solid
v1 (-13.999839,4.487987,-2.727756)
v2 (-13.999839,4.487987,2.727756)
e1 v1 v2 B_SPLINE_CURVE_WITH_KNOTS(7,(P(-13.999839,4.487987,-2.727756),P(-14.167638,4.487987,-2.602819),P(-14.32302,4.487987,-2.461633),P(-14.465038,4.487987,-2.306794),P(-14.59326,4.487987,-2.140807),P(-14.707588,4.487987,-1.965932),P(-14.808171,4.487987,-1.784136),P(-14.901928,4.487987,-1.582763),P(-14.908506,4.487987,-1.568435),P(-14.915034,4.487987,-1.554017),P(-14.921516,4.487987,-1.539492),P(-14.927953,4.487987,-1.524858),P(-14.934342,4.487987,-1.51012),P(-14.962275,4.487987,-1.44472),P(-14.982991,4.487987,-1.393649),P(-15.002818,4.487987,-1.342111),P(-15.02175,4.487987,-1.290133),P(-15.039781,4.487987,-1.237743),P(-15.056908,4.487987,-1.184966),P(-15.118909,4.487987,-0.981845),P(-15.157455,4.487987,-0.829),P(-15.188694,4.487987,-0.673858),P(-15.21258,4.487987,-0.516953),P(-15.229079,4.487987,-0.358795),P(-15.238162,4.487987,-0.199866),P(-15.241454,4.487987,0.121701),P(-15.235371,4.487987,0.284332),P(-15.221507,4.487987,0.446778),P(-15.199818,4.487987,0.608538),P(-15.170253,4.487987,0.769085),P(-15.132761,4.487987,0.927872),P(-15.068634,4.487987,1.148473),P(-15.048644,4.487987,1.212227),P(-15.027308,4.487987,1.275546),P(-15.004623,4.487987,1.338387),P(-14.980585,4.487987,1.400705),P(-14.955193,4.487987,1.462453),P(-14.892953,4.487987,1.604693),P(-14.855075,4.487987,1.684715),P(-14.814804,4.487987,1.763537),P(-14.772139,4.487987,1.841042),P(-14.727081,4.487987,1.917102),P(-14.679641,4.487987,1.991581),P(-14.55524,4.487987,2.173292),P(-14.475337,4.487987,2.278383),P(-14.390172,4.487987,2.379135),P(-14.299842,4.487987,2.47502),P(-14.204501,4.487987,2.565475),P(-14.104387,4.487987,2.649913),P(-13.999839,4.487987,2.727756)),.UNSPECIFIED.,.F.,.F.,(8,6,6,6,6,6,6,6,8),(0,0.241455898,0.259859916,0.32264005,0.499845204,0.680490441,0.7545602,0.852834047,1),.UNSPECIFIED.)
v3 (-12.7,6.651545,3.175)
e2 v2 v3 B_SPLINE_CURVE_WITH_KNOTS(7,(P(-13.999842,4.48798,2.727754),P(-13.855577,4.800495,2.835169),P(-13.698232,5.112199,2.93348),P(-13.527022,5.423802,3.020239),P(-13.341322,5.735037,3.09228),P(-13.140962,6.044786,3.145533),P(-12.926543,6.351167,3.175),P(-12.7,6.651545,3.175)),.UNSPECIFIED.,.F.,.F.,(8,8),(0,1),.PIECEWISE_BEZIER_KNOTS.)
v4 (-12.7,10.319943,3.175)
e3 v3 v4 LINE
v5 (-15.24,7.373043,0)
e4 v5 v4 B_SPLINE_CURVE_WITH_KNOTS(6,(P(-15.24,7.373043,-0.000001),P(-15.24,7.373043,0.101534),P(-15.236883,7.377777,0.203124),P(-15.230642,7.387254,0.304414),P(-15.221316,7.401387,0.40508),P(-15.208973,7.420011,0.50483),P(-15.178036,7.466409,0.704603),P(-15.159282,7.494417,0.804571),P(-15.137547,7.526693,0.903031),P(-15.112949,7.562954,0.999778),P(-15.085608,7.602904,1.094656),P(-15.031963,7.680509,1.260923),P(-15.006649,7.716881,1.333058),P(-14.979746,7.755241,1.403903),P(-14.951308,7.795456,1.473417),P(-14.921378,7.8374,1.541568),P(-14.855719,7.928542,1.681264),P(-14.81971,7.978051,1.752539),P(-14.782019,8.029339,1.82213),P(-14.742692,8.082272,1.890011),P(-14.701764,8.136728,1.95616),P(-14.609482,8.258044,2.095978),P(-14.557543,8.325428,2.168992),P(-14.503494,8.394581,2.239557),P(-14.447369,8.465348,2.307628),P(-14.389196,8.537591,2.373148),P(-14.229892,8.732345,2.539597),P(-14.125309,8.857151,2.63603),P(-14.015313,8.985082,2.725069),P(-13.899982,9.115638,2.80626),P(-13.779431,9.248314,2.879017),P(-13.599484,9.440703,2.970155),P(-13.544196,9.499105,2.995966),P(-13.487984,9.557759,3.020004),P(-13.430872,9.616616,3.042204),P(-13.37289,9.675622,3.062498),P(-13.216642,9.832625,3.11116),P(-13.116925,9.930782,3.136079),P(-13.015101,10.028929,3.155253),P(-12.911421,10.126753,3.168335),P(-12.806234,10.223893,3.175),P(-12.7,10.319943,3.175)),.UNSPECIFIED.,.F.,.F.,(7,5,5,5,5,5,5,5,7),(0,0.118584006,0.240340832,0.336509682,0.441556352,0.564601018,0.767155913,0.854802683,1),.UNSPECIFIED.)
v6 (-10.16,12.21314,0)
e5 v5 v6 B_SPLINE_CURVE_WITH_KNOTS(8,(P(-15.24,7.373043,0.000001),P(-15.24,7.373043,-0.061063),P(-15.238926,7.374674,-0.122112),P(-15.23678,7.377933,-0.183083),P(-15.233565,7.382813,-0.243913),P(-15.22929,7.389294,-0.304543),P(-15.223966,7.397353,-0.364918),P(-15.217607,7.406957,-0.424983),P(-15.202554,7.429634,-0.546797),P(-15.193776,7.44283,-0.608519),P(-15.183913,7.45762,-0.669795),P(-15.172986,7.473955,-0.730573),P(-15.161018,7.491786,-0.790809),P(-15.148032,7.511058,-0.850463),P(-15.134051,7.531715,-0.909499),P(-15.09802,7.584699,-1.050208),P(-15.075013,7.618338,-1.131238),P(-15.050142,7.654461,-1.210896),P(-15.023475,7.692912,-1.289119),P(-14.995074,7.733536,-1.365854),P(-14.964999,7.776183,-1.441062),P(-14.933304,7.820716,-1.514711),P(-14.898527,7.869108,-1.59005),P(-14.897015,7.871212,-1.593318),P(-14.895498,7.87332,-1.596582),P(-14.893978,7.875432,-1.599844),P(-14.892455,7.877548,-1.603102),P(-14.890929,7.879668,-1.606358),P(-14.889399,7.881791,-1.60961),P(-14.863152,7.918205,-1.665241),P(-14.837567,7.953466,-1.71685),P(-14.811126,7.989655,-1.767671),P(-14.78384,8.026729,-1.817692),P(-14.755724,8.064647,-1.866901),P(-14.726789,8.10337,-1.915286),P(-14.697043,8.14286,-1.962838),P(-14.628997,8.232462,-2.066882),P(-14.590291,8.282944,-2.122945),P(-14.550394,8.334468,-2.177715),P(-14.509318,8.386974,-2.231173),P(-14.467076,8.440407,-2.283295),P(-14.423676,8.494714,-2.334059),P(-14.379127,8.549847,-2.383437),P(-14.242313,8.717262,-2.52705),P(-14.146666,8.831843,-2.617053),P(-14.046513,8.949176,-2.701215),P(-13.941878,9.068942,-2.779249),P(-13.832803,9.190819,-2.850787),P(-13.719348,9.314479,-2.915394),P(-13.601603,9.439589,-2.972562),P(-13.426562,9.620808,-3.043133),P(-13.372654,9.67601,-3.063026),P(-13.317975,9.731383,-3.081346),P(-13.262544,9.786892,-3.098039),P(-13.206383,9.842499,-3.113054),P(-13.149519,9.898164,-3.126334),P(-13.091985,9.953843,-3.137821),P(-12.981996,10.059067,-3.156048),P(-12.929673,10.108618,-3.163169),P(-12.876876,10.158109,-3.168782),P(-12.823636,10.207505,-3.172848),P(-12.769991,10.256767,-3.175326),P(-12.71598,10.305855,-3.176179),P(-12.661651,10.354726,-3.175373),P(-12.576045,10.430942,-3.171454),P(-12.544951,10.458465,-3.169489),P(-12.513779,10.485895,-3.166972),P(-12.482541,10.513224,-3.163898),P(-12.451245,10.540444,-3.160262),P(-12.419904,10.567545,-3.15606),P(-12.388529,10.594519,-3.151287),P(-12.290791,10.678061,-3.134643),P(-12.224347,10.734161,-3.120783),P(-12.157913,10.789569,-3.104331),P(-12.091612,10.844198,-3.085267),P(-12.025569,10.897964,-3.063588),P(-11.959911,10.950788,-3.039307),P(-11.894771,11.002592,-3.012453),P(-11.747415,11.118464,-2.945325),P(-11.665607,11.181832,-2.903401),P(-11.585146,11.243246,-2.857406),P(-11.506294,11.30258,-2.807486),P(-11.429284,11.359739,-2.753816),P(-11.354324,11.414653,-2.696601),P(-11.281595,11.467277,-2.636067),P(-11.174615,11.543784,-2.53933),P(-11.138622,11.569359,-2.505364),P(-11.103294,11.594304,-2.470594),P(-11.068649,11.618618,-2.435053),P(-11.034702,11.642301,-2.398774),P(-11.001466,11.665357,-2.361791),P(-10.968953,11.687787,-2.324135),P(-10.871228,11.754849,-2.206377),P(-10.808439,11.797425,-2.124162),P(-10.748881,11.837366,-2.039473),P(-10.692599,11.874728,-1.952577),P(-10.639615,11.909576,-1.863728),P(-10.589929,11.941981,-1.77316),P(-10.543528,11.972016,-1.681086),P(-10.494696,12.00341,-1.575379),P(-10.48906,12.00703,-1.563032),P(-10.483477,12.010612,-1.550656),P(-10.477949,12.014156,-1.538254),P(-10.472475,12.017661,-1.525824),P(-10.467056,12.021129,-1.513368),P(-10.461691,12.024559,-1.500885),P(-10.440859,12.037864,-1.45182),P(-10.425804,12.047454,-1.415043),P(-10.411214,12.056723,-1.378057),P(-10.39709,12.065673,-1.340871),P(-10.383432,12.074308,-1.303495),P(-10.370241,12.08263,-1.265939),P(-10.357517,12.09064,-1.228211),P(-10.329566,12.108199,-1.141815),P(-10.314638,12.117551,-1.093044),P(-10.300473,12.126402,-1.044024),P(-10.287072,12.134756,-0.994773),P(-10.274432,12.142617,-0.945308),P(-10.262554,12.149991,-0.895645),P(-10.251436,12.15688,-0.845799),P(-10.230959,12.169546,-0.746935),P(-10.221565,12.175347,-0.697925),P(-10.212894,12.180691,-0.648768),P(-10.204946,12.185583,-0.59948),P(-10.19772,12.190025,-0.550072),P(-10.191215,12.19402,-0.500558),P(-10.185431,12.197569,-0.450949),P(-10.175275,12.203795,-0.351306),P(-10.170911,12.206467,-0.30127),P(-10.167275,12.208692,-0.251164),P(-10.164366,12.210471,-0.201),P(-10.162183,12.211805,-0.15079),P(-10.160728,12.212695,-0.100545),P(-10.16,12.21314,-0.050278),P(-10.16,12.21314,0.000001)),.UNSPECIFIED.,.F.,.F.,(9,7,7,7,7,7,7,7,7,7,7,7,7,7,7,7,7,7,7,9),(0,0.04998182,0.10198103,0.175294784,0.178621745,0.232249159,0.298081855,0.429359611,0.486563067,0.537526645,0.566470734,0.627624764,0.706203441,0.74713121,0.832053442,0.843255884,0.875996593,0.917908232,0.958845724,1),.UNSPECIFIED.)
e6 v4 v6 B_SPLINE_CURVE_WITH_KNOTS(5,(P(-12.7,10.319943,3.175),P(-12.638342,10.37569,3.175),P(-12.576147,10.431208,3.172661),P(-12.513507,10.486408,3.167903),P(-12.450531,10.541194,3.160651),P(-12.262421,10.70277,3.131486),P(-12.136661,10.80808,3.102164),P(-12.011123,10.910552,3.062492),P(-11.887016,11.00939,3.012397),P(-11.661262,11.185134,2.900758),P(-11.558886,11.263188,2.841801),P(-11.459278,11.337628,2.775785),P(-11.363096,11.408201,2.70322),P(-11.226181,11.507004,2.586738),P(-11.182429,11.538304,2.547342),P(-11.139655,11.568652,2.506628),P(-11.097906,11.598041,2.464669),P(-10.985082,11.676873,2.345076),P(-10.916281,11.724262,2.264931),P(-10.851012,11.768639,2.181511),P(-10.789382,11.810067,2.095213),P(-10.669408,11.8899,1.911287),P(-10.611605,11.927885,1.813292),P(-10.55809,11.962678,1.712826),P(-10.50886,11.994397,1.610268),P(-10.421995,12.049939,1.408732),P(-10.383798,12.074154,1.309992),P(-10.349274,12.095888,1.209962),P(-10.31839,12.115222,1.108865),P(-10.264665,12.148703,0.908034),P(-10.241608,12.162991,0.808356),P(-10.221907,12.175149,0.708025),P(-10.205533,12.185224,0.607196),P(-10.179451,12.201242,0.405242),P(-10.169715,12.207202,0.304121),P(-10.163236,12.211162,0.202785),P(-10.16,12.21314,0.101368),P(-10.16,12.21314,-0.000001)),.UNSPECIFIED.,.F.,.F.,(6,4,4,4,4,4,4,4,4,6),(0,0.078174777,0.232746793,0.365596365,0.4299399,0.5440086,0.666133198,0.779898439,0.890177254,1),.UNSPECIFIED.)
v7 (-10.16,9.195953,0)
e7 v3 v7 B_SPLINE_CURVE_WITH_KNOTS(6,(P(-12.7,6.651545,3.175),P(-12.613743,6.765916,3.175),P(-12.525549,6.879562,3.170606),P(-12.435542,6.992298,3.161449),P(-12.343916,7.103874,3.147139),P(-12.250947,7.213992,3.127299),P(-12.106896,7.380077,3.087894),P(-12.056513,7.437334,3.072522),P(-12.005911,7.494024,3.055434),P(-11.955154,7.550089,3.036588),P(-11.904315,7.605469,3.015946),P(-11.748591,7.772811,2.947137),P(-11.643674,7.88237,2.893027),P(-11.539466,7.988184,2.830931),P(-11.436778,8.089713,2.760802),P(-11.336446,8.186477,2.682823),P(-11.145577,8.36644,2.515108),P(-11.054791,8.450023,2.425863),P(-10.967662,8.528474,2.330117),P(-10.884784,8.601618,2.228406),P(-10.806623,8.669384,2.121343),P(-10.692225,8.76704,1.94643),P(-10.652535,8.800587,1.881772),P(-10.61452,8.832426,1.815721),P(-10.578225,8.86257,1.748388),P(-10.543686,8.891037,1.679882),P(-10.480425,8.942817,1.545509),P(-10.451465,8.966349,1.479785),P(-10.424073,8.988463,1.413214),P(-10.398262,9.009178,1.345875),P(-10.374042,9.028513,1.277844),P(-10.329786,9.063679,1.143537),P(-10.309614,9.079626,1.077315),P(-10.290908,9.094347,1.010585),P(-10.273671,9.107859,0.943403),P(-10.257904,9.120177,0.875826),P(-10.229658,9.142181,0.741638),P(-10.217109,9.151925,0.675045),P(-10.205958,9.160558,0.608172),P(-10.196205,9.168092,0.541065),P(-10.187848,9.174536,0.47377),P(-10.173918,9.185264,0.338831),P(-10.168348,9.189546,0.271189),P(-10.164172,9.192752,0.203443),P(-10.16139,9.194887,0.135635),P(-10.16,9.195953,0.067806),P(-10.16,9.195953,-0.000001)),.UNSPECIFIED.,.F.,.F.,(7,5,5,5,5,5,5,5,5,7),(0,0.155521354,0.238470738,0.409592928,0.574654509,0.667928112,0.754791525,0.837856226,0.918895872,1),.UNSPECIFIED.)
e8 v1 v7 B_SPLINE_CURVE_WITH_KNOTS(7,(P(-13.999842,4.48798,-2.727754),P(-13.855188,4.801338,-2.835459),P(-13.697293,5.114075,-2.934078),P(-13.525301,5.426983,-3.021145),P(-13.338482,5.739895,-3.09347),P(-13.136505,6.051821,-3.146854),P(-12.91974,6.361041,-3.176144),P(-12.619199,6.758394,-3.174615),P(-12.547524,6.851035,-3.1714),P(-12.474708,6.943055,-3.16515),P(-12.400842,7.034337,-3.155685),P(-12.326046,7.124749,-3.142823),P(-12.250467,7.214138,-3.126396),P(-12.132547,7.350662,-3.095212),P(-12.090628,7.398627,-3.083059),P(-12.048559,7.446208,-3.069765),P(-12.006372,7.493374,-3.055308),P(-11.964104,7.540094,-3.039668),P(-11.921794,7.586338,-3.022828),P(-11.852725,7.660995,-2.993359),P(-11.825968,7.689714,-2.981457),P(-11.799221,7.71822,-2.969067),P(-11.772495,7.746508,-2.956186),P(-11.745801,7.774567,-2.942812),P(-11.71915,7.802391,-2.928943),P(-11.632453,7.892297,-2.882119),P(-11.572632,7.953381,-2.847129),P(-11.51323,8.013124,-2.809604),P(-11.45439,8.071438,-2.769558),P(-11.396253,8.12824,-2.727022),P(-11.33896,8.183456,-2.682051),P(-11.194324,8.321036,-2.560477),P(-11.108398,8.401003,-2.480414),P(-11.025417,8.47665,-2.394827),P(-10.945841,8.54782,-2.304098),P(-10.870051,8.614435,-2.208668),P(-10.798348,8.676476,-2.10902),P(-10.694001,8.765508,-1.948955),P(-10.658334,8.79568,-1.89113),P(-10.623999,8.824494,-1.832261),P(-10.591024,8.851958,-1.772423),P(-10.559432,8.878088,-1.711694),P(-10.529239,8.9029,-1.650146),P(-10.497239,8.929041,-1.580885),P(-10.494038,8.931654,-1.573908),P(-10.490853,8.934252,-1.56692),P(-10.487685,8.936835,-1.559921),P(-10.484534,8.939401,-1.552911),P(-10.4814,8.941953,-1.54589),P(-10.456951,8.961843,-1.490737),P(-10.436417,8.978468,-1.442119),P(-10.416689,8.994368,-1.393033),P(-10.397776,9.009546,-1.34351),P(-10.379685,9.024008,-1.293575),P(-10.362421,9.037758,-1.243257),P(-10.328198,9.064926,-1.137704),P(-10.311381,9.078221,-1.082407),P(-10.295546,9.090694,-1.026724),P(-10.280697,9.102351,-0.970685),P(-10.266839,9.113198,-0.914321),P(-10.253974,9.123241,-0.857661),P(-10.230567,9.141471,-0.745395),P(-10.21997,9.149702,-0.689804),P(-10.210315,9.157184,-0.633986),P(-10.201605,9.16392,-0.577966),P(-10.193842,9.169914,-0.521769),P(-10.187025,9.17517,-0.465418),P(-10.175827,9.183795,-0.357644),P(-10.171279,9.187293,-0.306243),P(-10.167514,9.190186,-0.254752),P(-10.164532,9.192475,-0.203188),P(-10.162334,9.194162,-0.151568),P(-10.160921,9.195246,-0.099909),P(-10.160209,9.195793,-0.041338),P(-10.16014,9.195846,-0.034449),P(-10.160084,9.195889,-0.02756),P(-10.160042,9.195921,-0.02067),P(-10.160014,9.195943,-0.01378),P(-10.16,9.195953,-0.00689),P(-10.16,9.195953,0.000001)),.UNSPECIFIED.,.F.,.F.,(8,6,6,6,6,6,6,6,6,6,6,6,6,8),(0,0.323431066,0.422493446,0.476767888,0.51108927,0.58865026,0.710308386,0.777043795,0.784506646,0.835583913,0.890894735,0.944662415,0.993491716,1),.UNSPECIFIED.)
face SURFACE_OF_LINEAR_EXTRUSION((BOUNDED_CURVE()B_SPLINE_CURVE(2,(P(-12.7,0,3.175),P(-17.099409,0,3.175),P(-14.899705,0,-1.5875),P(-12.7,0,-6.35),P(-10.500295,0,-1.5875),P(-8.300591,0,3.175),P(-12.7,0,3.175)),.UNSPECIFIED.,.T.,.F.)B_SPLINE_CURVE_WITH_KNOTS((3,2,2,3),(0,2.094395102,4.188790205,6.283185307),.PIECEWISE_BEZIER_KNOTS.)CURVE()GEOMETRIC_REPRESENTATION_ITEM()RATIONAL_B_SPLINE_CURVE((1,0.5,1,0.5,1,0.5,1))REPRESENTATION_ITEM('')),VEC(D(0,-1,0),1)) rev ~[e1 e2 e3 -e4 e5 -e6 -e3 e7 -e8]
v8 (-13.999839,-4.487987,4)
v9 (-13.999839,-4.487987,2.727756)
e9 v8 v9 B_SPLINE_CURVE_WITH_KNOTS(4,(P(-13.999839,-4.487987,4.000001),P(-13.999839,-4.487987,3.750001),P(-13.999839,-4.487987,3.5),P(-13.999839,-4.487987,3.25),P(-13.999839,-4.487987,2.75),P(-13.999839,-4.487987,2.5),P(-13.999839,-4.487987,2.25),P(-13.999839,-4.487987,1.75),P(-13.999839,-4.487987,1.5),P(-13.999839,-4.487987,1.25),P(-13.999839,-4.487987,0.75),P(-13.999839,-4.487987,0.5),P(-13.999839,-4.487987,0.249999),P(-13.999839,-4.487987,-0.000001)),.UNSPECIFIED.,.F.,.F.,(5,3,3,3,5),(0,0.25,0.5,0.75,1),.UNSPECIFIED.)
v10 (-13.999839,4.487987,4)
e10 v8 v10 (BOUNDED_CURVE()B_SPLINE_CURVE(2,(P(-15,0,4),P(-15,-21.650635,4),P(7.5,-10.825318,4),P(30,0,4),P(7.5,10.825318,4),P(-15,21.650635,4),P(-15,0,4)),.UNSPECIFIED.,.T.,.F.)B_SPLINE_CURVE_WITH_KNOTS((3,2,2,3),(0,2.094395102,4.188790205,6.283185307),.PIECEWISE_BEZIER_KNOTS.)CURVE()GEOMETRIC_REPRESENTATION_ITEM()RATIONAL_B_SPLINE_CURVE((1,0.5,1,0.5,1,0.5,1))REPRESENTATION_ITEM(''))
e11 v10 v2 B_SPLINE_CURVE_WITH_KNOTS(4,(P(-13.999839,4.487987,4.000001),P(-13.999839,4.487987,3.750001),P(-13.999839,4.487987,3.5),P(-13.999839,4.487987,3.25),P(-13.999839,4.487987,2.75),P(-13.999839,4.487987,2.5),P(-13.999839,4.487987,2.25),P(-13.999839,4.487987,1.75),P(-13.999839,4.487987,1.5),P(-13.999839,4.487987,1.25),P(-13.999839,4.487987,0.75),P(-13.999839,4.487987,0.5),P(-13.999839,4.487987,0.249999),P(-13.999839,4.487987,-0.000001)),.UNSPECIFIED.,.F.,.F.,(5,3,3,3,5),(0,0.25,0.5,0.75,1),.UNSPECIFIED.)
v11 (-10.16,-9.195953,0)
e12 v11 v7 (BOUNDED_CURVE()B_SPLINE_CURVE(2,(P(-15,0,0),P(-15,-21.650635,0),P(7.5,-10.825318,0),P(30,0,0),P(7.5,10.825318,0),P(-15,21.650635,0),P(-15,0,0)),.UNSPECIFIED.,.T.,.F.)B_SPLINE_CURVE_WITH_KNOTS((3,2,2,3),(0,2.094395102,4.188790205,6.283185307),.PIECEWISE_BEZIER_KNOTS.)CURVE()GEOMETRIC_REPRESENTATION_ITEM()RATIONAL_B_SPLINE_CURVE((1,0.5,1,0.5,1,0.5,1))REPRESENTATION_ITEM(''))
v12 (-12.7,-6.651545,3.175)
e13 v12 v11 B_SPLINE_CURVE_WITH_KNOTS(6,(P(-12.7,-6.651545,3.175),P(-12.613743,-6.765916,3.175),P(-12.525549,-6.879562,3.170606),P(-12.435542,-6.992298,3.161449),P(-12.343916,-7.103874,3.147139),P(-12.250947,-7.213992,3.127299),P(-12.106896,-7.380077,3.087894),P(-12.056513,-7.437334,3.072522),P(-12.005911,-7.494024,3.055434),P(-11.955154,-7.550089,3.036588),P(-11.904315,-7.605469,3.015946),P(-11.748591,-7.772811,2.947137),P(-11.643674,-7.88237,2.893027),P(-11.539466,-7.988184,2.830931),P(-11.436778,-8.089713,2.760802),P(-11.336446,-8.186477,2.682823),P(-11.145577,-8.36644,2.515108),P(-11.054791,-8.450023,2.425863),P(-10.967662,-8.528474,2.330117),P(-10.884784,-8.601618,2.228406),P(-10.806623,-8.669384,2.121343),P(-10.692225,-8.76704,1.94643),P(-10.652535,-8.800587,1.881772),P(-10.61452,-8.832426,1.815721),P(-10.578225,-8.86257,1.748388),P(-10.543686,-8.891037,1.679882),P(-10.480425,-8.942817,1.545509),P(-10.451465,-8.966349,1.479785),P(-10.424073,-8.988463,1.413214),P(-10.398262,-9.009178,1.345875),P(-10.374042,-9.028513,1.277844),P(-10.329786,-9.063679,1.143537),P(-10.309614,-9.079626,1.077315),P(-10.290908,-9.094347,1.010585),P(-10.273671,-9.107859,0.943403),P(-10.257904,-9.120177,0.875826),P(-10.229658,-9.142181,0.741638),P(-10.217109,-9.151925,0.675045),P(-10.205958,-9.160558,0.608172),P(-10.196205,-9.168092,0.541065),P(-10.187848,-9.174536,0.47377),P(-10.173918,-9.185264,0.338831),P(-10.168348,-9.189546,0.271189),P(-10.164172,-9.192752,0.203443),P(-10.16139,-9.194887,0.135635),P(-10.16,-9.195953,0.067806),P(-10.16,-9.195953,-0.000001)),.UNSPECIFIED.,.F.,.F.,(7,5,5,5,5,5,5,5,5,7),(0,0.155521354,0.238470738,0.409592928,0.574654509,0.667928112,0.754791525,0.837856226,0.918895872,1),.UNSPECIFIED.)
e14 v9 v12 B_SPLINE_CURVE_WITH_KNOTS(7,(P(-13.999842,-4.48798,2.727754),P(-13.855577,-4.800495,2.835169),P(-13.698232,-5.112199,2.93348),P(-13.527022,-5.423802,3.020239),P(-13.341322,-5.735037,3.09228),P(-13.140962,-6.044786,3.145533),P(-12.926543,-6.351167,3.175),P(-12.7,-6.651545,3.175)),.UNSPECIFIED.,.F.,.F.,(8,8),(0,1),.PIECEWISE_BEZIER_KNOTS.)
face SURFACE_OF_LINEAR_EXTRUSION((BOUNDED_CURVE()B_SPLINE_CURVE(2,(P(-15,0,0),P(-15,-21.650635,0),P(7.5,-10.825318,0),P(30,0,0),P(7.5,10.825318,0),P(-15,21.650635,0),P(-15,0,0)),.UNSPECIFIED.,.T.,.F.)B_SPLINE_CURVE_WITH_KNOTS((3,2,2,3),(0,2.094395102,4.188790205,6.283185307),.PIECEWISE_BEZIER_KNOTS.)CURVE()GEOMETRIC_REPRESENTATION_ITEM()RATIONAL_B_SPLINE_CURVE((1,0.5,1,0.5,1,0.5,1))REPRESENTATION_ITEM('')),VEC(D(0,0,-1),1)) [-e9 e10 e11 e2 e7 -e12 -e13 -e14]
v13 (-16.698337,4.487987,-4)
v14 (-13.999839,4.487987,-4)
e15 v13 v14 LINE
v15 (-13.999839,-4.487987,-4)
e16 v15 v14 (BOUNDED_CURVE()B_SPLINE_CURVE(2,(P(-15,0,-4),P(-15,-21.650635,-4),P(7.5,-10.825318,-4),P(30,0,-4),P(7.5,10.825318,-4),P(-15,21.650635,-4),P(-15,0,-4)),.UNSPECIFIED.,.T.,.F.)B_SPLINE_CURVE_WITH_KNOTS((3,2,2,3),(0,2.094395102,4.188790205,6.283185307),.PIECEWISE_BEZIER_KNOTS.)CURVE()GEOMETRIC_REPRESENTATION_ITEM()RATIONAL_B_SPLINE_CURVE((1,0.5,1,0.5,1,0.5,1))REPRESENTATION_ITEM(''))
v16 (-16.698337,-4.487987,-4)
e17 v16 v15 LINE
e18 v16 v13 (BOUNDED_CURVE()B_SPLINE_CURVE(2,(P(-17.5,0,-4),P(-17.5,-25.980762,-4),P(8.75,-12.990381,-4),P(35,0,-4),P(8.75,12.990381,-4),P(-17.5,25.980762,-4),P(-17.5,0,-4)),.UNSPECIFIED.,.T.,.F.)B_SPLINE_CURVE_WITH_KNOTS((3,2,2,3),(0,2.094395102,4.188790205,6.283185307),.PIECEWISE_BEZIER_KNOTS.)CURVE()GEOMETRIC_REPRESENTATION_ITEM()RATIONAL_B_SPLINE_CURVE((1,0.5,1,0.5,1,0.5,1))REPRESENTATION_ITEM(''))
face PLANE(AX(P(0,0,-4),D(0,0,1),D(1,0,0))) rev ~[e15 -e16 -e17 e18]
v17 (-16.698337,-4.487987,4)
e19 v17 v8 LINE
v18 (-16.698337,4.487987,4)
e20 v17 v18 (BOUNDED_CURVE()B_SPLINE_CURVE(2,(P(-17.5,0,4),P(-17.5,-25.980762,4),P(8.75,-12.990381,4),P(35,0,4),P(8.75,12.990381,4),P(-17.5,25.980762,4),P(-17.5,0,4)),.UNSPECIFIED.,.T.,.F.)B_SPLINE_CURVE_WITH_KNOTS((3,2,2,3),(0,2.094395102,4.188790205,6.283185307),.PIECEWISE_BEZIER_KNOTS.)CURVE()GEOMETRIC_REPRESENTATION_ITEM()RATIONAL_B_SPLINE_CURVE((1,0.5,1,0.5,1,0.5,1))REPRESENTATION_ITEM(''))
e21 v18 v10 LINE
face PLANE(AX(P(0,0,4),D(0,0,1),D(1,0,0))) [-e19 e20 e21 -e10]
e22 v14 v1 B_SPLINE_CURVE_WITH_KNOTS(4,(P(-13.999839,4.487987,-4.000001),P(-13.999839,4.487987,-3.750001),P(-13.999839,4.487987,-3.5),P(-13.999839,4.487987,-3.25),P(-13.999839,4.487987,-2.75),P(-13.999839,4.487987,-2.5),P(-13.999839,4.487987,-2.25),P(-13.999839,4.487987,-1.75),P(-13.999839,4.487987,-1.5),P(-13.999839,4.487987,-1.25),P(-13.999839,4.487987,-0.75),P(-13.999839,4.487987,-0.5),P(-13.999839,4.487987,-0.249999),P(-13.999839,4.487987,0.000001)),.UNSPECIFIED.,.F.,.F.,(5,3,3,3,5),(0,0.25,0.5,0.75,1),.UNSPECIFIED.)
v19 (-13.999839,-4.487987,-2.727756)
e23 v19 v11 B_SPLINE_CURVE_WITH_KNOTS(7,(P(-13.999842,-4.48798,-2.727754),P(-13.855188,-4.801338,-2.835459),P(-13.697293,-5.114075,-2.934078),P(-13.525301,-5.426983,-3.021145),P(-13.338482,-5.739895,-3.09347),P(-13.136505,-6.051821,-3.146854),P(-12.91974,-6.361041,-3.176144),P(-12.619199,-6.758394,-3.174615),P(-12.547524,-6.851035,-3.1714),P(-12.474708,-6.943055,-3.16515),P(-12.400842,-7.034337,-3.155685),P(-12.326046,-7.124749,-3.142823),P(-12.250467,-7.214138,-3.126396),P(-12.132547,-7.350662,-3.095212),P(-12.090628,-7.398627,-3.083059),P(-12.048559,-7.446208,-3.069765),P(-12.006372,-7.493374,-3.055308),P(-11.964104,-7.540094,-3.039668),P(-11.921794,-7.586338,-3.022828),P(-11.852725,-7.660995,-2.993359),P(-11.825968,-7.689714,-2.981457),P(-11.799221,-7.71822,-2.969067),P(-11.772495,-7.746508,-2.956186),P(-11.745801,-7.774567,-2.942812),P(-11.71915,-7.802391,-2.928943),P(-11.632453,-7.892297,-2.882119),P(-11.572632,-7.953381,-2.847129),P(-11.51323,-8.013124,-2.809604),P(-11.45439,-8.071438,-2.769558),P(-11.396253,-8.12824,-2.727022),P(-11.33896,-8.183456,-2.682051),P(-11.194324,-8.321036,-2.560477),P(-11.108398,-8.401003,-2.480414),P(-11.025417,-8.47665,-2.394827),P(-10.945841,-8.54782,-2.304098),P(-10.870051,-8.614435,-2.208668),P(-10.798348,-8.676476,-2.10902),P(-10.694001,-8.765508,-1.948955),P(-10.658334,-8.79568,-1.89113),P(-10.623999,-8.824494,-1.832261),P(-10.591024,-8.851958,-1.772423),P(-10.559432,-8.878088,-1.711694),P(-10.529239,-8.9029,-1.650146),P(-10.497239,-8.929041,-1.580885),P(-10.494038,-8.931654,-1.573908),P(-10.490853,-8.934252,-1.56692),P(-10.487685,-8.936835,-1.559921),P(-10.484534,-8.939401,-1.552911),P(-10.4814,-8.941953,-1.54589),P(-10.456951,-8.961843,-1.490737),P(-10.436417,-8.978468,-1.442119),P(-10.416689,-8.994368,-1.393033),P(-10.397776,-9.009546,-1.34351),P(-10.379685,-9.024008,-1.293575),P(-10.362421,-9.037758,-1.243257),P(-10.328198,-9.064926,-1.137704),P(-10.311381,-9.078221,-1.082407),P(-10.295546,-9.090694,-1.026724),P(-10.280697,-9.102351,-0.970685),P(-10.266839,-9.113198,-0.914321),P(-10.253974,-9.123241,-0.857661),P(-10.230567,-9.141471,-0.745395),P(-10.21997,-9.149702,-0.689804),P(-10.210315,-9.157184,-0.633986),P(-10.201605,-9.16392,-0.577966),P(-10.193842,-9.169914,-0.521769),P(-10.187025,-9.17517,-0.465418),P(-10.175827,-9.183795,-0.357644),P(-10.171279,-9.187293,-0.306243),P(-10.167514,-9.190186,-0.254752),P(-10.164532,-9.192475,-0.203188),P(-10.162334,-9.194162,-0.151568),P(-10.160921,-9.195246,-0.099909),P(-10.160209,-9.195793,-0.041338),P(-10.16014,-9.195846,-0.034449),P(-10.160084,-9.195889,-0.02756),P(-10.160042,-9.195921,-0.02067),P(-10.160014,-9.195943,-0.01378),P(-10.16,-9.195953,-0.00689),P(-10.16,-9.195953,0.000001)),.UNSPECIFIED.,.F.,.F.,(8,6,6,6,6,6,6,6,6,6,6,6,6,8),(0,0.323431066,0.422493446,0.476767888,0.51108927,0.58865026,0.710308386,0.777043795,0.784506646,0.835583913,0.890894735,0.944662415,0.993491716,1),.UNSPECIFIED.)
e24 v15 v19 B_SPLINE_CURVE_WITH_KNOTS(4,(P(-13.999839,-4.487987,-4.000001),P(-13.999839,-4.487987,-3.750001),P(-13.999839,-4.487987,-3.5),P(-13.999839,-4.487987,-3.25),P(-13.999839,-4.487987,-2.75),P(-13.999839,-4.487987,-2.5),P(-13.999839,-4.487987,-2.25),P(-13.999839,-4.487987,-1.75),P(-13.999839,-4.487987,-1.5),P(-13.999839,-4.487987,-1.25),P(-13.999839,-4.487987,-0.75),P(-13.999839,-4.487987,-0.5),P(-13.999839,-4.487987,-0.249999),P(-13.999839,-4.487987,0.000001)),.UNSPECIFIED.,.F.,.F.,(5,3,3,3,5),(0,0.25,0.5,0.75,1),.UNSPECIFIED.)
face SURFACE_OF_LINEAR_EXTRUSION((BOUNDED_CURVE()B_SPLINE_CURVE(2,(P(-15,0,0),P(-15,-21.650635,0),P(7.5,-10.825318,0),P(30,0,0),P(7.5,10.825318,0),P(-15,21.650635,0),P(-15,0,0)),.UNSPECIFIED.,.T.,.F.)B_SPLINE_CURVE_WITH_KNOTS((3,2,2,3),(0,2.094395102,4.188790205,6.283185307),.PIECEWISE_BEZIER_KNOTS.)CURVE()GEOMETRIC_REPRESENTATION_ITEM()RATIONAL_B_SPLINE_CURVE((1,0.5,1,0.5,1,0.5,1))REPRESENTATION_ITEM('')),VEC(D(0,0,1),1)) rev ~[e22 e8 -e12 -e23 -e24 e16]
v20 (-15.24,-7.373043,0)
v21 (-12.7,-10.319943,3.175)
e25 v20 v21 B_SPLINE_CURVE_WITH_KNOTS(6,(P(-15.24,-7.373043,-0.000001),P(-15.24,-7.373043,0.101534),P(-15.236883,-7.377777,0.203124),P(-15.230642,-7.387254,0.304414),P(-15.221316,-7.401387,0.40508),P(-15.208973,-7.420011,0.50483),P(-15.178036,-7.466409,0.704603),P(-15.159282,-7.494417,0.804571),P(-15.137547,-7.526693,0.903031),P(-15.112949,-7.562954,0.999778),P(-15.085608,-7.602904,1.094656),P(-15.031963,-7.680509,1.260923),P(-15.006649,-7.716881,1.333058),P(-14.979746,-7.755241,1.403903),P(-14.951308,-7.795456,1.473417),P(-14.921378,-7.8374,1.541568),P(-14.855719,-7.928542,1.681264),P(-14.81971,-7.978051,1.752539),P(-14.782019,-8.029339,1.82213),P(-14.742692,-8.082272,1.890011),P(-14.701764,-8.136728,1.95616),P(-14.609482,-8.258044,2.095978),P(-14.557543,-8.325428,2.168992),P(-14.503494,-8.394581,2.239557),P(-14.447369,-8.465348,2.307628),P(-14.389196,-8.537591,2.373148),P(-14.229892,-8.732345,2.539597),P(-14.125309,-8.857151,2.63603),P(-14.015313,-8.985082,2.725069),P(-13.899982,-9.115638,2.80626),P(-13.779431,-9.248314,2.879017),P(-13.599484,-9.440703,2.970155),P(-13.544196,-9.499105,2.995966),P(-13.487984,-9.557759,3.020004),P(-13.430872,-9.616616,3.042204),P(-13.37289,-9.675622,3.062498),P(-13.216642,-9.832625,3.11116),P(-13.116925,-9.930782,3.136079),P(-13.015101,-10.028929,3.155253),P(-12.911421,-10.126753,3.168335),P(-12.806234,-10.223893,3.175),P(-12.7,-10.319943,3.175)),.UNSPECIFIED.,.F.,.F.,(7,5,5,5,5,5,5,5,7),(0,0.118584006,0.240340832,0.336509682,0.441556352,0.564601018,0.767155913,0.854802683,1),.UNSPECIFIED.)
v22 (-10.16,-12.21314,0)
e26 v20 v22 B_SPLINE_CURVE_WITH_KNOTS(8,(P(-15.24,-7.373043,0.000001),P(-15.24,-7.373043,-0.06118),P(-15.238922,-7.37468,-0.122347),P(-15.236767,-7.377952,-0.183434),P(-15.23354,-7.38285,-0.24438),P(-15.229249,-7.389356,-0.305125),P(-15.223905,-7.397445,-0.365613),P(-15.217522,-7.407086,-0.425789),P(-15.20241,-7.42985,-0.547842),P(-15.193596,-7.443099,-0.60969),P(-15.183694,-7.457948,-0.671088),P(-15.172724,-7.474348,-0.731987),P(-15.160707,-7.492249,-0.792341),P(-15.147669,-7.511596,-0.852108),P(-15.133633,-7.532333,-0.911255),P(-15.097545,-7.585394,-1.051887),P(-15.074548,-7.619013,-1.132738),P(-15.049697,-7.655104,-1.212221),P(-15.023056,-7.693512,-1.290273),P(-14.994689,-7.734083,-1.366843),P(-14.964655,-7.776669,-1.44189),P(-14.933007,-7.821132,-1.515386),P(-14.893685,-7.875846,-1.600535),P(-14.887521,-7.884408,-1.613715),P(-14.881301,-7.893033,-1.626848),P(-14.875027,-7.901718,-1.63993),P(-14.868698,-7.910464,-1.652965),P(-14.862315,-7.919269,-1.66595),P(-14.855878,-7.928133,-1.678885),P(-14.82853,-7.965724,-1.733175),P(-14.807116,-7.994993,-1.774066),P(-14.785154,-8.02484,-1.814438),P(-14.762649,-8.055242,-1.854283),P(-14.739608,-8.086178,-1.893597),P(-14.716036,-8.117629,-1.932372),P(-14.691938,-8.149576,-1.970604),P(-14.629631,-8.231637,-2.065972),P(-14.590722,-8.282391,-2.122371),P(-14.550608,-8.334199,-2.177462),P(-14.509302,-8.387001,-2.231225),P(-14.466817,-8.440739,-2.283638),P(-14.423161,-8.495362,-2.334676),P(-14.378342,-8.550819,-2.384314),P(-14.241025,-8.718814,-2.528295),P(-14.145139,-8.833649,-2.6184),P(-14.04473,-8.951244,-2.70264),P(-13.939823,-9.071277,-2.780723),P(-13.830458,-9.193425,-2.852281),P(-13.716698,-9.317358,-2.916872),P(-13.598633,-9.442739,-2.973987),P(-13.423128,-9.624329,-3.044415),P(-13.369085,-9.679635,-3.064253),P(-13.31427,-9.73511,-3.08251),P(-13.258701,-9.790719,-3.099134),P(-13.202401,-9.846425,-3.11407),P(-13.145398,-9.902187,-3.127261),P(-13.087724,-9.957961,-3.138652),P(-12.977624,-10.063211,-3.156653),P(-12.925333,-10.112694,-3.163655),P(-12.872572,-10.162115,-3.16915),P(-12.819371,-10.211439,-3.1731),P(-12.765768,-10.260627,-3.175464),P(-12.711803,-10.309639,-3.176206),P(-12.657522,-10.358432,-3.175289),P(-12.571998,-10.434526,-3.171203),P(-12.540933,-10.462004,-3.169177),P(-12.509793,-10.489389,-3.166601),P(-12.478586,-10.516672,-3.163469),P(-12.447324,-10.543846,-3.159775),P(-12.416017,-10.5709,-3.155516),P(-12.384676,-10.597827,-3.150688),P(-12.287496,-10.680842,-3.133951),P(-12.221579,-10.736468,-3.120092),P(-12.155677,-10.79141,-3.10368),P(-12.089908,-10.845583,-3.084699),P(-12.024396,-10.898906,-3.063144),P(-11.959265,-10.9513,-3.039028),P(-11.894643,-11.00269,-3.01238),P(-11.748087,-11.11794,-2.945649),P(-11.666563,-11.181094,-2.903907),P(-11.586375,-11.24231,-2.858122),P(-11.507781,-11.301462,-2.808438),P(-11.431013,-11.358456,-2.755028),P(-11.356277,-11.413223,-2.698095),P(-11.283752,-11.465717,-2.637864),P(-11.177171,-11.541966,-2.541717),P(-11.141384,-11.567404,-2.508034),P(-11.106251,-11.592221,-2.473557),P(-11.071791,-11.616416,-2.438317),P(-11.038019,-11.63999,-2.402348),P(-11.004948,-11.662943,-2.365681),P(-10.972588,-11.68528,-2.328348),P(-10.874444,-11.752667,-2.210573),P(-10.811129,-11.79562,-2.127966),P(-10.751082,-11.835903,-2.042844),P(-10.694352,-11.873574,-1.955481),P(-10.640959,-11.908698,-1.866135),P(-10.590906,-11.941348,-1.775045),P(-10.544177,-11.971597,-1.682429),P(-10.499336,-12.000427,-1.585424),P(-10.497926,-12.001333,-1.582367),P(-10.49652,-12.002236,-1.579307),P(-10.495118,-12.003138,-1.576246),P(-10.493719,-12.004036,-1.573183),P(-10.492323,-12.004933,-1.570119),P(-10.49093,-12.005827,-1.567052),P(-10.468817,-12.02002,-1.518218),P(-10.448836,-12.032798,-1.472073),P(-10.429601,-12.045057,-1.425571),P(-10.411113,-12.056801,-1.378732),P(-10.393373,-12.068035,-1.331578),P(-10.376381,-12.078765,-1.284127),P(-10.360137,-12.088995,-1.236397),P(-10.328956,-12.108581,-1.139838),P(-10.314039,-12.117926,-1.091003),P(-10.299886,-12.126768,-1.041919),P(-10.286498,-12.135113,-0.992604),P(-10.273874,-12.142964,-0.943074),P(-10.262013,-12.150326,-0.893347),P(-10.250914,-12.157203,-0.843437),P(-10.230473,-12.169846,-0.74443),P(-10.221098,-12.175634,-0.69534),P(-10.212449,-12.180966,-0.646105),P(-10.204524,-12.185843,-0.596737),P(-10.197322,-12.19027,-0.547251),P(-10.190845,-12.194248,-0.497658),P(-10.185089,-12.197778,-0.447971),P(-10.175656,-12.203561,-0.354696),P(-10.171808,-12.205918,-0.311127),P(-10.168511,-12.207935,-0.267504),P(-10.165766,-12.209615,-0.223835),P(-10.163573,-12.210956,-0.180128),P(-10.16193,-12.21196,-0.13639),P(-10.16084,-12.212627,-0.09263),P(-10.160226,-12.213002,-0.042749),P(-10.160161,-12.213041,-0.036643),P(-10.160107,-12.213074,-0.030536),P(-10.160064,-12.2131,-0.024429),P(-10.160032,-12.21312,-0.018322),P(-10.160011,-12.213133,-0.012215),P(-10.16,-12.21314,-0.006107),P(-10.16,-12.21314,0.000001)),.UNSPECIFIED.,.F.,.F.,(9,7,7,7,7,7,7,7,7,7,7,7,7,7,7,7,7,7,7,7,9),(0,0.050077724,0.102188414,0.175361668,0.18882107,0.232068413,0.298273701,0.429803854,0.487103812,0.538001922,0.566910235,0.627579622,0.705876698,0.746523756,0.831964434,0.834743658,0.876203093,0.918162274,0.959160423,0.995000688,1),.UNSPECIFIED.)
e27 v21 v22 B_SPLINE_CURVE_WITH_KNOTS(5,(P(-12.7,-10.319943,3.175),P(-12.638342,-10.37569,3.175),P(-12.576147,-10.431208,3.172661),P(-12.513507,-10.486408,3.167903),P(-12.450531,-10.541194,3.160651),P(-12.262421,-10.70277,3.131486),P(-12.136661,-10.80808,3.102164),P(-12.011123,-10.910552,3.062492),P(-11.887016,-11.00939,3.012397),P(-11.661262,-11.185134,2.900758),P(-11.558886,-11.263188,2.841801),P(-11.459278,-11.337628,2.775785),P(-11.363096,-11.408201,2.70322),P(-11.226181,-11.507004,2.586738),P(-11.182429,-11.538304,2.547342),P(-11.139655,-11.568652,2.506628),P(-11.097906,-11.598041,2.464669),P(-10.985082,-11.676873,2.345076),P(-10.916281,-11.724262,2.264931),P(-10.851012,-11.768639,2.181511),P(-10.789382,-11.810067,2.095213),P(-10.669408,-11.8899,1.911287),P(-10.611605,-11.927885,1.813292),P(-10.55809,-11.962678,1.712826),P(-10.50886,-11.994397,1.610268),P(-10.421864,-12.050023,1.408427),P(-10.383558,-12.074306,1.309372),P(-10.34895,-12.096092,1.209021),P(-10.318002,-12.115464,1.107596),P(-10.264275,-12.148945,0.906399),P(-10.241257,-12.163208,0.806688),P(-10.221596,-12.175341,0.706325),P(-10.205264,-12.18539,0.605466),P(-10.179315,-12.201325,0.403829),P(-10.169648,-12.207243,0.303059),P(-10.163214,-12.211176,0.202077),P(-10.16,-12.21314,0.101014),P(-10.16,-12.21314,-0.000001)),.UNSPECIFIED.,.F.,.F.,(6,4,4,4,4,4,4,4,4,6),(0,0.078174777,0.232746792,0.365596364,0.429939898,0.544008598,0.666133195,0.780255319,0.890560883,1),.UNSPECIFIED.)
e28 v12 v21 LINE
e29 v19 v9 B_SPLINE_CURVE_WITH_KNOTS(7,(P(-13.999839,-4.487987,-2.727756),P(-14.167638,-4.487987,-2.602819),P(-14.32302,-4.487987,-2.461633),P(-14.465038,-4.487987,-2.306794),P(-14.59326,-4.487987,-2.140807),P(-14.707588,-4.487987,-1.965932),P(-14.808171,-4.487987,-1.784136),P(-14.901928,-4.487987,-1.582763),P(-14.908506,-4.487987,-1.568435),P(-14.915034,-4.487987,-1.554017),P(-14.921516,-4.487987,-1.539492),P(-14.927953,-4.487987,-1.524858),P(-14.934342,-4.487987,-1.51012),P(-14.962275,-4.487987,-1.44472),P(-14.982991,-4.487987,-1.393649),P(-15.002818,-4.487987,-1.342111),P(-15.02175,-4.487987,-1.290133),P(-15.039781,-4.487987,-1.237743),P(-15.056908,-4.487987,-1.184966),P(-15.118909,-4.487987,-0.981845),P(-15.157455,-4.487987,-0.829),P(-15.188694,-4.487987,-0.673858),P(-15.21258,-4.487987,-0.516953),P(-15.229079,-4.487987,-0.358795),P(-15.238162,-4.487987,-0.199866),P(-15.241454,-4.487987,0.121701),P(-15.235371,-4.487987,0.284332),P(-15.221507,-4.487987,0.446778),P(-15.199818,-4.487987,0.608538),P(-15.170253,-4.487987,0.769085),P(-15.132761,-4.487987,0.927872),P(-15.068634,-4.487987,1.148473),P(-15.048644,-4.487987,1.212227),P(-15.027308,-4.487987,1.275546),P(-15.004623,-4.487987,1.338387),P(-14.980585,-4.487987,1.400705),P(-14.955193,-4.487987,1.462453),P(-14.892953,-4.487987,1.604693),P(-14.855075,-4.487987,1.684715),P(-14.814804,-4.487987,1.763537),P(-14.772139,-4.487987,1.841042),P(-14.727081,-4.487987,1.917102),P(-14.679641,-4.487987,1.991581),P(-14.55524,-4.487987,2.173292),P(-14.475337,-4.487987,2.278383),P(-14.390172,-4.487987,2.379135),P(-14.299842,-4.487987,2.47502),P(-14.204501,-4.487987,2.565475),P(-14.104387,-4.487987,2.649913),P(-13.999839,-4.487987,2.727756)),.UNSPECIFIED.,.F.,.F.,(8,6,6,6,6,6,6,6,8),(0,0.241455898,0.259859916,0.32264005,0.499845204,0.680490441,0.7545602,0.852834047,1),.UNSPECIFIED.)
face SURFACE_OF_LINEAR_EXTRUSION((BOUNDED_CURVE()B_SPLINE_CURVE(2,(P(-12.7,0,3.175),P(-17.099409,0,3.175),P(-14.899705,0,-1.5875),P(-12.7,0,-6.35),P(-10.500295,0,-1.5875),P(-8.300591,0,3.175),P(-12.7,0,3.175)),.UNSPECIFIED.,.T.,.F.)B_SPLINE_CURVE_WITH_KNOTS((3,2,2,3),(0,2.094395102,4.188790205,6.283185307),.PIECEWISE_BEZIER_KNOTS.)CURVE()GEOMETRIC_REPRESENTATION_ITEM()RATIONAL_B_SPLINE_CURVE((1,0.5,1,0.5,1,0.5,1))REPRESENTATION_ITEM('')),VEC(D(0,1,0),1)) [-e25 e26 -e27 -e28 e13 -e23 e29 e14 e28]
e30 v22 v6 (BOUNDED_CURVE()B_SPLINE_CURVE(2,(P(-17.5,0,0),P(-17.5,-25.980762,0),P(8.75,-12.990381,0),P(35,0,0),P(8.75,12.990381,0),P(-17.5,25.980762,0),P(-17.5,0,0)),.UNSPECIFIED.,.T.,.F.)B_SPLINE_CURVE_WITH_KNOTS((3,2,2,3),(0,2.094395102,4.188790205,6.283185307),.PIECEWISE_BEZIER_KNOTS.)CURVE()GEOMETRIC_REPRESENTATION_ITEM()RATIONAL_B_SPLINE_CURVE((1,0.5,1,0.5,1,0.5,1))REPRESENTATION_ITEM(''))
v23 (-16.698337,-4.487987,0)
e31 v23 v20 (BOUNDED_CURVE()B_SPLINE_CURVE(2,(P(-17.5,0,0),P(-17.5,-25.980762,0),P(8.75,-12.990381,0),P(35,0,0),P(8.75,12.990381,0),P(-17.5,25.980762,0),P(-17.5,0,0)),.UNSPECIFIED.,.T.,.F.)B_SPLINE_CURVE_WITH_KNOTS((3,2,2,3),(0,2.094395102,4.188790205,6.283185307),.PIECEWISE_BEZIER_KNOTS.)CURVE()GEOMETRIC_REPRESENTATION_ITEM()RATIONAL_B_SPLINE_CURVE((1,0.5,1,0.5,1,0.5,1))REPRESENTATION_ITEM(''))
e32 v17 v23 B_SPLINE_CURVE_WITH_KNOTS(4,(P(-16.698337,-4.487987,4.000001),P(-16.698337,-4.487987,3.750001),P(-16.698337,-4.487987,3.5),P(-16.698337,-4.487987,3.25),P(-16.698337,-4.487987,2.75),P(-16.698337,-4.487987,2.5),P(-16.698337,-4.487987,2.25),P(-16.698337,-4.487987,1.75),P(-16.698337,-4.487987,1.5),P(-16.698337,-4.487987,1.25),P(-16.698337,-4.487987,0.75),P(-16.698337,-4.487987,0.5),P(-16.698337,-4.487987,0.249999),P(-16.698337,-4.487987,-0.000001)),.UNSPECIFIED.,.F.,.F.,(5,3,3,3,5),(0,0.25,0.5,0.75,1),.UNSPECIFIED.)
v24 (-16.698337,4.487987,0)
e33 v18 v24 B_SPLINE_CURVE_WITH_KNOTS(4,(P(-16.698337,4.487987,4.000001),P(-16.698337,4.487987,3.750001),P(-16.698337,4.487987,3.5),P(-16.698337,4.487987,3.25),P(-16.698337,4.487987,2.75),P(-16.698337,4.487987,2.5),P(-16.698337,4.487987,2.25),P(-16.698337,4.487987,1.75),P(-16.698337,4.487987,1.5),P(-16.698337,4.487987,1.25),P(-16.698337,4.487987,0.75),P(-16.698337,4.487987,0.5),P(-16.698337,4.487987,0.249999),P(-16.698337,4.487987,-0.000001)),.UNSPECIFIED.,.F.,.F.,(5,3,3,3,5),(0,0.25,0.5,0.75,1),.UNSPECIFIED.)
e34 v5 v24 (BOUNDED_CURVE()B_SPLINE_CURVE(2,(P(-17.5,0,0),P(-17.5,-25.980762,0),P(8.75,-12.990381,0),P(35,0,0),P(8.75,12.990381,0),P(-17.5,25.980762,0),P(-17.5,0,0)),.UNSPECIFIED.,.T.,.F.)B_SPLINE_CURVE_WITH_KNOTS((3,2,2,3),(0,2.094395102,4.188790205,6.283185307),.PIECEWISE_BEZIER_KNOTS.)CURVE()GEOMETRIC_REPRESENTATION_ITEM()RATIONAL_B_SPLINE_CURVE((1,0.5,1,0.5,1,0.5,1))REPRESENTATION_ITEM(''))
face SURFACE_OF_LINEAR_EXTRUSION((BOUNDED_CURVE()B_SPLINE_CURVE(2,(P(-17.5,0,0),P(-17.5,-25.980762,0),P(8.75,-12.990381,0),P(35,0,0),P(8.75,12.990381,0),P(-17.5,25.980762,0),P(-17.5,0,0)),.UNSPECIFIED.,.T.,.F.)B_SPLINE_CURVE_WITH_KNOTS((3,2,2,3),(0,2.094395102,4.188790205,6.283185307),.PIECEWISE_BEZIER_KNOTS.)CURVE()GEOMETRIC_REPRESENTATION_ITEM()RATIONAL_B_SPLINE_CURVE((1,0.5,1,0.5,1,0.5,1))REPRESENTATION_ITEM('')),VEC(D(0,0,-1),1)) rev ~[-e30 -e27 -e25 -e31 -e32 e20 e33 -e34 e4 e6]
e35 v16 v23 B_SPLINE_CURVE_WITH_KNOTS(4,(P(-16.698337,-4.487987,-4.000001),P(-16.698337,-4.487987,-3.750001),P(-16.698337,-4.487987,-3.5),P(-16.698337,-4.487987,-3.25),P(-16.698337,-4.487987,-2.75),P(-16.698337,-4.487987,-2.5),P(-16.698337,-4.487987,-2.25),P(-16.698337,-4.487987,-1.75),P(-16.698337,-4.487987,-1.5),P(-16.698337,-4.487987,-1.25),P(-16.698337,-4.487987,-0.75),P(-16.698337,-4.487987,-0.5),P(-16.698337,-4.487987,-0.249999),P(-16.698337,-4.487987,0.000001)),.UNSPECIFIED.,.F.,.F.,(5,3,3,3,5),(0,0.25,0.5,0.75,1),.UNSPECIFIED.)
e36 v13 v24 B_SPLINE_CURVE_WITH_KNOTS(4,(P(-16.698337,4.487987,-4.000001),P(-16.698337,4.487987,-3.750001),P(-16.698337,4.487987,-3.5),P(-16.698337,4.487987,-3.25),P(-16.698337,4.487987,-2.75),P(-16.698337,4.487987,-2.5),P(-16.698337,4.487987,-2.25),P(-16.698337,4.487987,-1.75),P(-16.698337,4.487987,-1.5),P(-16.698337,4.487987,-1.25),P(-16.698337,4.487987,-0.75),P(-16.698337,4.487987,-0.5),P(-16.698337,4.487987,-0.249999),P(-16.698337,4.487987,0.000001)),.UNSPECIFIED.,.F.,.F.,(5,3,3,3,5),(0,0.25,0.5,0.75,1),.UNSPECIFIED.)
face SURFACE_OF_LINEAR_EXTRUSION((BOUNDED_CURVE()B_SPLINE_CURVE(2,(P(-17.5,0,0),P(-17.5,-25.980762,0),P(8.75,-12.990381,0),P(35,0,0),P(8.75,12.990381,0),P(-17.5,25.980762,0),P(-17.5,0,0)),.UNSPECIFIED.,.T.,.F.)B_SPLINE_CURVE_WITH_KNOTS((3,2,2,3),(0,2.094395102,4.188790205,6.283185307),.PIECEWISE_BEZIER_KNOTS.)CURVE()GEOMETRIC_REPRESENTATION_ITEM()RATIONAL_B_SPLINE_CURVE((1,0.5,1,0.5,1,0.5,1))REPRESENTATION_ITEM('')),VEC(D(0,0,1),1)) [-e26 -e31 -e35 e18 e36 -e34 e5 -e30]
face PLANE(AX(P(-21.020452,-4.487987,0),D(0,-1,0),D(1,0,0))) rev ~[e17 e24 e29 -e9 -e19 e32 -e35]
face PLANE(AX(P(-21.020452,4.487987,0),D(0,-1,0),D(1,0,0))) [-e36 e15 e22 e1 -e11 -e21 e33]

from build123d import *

# Parameters (mm, degrees)
F2_DEPTH = 4
F3_W     = 11.2592019141
F3_H     = 8.9759733528
F4_DEPTH = 12.7
F6_DEPTH = 12.7


with BuildPart() as f2:
    # F0 (on Top) → F2 (new body, symmetric)
    with BuildSketch(Plane.XY):
        with BuildLine():
            add(Edge.make_bspline(
                [(-17.5, 0), (-17.5, -25.9807621135), (8.75, -12.9903810568), (35, 0), (8.75, 12.9903810568), (-17.5, 25.9807621135), (-17.5, 0)],
                knots=[0, 0, 0, 2.0943951024, 2.0943951024, 4.1887902048, 4.1887902048, 6.2831853072, 6.2831853072, 6.2831853072], degree=2, weights=[1, 0.5, 1, 0.5, 1, 0.5, 1]))
        make_face()
        with BuildLine():
            add(Edge.make_bspline(
                [(-15, 0), (-15, -21.6506350946), (7.5, -10.8253175473), (30, 0), (7.5, 10.8253175473), (-15, 21.6506350946), (-15, 0)],
                knots=[0, 0, 0, 2.0943951024, 2.0943951024, 4.1887902048, 4.1887902048, 6.2831853072, 6.2831853072, 6.2831853072], degree=2, weights=[1, 0.5, 1, 0.5, 1, 0.5, 1]))
        make_face(mode=Mode.SUBTRACT)
    extrude(amount=F2_DEPTH, both=True)

    # F3 (on Top) → F4 (cut, symmetric)
    with BuildSketch(Plane.XY):
        with Locations((-15.3908506036, 0)):
            Rectangle(F3_W, F3_H)
    extrude(amount=F4_DEPTH, both=True, mode=Mode.SUBTRACT)

    # F5 (on Front) → F6 (cut, symmetric)
    with BuildSketch(Plane.XZ):
        with BuildLine():
            add(Edge.make_bspline(
                [(-12.7, 3.175), (-17.0994090512, 3.175), (-14.8997045256, -1.5875), (-12.7, -6.35), (-10.5002954744, -1.5875), (-8.3005909488, 3.175), (-12.7, 3.175)],
                knots=[0, 0, 0, 2.0943951024, 2.0943951024, 4.1887902048, 4.1887902048, 6.2831853072, 6.2831853072, 6.2831853072], degree=2, weights=[1, 0.5, 1, 0.5, 1, 0.5, 1]))
        make_face()
    extrude(amount=F6_DEPTH, both=True, mode=Mode.SUBTRACT)


solid = f2.part
